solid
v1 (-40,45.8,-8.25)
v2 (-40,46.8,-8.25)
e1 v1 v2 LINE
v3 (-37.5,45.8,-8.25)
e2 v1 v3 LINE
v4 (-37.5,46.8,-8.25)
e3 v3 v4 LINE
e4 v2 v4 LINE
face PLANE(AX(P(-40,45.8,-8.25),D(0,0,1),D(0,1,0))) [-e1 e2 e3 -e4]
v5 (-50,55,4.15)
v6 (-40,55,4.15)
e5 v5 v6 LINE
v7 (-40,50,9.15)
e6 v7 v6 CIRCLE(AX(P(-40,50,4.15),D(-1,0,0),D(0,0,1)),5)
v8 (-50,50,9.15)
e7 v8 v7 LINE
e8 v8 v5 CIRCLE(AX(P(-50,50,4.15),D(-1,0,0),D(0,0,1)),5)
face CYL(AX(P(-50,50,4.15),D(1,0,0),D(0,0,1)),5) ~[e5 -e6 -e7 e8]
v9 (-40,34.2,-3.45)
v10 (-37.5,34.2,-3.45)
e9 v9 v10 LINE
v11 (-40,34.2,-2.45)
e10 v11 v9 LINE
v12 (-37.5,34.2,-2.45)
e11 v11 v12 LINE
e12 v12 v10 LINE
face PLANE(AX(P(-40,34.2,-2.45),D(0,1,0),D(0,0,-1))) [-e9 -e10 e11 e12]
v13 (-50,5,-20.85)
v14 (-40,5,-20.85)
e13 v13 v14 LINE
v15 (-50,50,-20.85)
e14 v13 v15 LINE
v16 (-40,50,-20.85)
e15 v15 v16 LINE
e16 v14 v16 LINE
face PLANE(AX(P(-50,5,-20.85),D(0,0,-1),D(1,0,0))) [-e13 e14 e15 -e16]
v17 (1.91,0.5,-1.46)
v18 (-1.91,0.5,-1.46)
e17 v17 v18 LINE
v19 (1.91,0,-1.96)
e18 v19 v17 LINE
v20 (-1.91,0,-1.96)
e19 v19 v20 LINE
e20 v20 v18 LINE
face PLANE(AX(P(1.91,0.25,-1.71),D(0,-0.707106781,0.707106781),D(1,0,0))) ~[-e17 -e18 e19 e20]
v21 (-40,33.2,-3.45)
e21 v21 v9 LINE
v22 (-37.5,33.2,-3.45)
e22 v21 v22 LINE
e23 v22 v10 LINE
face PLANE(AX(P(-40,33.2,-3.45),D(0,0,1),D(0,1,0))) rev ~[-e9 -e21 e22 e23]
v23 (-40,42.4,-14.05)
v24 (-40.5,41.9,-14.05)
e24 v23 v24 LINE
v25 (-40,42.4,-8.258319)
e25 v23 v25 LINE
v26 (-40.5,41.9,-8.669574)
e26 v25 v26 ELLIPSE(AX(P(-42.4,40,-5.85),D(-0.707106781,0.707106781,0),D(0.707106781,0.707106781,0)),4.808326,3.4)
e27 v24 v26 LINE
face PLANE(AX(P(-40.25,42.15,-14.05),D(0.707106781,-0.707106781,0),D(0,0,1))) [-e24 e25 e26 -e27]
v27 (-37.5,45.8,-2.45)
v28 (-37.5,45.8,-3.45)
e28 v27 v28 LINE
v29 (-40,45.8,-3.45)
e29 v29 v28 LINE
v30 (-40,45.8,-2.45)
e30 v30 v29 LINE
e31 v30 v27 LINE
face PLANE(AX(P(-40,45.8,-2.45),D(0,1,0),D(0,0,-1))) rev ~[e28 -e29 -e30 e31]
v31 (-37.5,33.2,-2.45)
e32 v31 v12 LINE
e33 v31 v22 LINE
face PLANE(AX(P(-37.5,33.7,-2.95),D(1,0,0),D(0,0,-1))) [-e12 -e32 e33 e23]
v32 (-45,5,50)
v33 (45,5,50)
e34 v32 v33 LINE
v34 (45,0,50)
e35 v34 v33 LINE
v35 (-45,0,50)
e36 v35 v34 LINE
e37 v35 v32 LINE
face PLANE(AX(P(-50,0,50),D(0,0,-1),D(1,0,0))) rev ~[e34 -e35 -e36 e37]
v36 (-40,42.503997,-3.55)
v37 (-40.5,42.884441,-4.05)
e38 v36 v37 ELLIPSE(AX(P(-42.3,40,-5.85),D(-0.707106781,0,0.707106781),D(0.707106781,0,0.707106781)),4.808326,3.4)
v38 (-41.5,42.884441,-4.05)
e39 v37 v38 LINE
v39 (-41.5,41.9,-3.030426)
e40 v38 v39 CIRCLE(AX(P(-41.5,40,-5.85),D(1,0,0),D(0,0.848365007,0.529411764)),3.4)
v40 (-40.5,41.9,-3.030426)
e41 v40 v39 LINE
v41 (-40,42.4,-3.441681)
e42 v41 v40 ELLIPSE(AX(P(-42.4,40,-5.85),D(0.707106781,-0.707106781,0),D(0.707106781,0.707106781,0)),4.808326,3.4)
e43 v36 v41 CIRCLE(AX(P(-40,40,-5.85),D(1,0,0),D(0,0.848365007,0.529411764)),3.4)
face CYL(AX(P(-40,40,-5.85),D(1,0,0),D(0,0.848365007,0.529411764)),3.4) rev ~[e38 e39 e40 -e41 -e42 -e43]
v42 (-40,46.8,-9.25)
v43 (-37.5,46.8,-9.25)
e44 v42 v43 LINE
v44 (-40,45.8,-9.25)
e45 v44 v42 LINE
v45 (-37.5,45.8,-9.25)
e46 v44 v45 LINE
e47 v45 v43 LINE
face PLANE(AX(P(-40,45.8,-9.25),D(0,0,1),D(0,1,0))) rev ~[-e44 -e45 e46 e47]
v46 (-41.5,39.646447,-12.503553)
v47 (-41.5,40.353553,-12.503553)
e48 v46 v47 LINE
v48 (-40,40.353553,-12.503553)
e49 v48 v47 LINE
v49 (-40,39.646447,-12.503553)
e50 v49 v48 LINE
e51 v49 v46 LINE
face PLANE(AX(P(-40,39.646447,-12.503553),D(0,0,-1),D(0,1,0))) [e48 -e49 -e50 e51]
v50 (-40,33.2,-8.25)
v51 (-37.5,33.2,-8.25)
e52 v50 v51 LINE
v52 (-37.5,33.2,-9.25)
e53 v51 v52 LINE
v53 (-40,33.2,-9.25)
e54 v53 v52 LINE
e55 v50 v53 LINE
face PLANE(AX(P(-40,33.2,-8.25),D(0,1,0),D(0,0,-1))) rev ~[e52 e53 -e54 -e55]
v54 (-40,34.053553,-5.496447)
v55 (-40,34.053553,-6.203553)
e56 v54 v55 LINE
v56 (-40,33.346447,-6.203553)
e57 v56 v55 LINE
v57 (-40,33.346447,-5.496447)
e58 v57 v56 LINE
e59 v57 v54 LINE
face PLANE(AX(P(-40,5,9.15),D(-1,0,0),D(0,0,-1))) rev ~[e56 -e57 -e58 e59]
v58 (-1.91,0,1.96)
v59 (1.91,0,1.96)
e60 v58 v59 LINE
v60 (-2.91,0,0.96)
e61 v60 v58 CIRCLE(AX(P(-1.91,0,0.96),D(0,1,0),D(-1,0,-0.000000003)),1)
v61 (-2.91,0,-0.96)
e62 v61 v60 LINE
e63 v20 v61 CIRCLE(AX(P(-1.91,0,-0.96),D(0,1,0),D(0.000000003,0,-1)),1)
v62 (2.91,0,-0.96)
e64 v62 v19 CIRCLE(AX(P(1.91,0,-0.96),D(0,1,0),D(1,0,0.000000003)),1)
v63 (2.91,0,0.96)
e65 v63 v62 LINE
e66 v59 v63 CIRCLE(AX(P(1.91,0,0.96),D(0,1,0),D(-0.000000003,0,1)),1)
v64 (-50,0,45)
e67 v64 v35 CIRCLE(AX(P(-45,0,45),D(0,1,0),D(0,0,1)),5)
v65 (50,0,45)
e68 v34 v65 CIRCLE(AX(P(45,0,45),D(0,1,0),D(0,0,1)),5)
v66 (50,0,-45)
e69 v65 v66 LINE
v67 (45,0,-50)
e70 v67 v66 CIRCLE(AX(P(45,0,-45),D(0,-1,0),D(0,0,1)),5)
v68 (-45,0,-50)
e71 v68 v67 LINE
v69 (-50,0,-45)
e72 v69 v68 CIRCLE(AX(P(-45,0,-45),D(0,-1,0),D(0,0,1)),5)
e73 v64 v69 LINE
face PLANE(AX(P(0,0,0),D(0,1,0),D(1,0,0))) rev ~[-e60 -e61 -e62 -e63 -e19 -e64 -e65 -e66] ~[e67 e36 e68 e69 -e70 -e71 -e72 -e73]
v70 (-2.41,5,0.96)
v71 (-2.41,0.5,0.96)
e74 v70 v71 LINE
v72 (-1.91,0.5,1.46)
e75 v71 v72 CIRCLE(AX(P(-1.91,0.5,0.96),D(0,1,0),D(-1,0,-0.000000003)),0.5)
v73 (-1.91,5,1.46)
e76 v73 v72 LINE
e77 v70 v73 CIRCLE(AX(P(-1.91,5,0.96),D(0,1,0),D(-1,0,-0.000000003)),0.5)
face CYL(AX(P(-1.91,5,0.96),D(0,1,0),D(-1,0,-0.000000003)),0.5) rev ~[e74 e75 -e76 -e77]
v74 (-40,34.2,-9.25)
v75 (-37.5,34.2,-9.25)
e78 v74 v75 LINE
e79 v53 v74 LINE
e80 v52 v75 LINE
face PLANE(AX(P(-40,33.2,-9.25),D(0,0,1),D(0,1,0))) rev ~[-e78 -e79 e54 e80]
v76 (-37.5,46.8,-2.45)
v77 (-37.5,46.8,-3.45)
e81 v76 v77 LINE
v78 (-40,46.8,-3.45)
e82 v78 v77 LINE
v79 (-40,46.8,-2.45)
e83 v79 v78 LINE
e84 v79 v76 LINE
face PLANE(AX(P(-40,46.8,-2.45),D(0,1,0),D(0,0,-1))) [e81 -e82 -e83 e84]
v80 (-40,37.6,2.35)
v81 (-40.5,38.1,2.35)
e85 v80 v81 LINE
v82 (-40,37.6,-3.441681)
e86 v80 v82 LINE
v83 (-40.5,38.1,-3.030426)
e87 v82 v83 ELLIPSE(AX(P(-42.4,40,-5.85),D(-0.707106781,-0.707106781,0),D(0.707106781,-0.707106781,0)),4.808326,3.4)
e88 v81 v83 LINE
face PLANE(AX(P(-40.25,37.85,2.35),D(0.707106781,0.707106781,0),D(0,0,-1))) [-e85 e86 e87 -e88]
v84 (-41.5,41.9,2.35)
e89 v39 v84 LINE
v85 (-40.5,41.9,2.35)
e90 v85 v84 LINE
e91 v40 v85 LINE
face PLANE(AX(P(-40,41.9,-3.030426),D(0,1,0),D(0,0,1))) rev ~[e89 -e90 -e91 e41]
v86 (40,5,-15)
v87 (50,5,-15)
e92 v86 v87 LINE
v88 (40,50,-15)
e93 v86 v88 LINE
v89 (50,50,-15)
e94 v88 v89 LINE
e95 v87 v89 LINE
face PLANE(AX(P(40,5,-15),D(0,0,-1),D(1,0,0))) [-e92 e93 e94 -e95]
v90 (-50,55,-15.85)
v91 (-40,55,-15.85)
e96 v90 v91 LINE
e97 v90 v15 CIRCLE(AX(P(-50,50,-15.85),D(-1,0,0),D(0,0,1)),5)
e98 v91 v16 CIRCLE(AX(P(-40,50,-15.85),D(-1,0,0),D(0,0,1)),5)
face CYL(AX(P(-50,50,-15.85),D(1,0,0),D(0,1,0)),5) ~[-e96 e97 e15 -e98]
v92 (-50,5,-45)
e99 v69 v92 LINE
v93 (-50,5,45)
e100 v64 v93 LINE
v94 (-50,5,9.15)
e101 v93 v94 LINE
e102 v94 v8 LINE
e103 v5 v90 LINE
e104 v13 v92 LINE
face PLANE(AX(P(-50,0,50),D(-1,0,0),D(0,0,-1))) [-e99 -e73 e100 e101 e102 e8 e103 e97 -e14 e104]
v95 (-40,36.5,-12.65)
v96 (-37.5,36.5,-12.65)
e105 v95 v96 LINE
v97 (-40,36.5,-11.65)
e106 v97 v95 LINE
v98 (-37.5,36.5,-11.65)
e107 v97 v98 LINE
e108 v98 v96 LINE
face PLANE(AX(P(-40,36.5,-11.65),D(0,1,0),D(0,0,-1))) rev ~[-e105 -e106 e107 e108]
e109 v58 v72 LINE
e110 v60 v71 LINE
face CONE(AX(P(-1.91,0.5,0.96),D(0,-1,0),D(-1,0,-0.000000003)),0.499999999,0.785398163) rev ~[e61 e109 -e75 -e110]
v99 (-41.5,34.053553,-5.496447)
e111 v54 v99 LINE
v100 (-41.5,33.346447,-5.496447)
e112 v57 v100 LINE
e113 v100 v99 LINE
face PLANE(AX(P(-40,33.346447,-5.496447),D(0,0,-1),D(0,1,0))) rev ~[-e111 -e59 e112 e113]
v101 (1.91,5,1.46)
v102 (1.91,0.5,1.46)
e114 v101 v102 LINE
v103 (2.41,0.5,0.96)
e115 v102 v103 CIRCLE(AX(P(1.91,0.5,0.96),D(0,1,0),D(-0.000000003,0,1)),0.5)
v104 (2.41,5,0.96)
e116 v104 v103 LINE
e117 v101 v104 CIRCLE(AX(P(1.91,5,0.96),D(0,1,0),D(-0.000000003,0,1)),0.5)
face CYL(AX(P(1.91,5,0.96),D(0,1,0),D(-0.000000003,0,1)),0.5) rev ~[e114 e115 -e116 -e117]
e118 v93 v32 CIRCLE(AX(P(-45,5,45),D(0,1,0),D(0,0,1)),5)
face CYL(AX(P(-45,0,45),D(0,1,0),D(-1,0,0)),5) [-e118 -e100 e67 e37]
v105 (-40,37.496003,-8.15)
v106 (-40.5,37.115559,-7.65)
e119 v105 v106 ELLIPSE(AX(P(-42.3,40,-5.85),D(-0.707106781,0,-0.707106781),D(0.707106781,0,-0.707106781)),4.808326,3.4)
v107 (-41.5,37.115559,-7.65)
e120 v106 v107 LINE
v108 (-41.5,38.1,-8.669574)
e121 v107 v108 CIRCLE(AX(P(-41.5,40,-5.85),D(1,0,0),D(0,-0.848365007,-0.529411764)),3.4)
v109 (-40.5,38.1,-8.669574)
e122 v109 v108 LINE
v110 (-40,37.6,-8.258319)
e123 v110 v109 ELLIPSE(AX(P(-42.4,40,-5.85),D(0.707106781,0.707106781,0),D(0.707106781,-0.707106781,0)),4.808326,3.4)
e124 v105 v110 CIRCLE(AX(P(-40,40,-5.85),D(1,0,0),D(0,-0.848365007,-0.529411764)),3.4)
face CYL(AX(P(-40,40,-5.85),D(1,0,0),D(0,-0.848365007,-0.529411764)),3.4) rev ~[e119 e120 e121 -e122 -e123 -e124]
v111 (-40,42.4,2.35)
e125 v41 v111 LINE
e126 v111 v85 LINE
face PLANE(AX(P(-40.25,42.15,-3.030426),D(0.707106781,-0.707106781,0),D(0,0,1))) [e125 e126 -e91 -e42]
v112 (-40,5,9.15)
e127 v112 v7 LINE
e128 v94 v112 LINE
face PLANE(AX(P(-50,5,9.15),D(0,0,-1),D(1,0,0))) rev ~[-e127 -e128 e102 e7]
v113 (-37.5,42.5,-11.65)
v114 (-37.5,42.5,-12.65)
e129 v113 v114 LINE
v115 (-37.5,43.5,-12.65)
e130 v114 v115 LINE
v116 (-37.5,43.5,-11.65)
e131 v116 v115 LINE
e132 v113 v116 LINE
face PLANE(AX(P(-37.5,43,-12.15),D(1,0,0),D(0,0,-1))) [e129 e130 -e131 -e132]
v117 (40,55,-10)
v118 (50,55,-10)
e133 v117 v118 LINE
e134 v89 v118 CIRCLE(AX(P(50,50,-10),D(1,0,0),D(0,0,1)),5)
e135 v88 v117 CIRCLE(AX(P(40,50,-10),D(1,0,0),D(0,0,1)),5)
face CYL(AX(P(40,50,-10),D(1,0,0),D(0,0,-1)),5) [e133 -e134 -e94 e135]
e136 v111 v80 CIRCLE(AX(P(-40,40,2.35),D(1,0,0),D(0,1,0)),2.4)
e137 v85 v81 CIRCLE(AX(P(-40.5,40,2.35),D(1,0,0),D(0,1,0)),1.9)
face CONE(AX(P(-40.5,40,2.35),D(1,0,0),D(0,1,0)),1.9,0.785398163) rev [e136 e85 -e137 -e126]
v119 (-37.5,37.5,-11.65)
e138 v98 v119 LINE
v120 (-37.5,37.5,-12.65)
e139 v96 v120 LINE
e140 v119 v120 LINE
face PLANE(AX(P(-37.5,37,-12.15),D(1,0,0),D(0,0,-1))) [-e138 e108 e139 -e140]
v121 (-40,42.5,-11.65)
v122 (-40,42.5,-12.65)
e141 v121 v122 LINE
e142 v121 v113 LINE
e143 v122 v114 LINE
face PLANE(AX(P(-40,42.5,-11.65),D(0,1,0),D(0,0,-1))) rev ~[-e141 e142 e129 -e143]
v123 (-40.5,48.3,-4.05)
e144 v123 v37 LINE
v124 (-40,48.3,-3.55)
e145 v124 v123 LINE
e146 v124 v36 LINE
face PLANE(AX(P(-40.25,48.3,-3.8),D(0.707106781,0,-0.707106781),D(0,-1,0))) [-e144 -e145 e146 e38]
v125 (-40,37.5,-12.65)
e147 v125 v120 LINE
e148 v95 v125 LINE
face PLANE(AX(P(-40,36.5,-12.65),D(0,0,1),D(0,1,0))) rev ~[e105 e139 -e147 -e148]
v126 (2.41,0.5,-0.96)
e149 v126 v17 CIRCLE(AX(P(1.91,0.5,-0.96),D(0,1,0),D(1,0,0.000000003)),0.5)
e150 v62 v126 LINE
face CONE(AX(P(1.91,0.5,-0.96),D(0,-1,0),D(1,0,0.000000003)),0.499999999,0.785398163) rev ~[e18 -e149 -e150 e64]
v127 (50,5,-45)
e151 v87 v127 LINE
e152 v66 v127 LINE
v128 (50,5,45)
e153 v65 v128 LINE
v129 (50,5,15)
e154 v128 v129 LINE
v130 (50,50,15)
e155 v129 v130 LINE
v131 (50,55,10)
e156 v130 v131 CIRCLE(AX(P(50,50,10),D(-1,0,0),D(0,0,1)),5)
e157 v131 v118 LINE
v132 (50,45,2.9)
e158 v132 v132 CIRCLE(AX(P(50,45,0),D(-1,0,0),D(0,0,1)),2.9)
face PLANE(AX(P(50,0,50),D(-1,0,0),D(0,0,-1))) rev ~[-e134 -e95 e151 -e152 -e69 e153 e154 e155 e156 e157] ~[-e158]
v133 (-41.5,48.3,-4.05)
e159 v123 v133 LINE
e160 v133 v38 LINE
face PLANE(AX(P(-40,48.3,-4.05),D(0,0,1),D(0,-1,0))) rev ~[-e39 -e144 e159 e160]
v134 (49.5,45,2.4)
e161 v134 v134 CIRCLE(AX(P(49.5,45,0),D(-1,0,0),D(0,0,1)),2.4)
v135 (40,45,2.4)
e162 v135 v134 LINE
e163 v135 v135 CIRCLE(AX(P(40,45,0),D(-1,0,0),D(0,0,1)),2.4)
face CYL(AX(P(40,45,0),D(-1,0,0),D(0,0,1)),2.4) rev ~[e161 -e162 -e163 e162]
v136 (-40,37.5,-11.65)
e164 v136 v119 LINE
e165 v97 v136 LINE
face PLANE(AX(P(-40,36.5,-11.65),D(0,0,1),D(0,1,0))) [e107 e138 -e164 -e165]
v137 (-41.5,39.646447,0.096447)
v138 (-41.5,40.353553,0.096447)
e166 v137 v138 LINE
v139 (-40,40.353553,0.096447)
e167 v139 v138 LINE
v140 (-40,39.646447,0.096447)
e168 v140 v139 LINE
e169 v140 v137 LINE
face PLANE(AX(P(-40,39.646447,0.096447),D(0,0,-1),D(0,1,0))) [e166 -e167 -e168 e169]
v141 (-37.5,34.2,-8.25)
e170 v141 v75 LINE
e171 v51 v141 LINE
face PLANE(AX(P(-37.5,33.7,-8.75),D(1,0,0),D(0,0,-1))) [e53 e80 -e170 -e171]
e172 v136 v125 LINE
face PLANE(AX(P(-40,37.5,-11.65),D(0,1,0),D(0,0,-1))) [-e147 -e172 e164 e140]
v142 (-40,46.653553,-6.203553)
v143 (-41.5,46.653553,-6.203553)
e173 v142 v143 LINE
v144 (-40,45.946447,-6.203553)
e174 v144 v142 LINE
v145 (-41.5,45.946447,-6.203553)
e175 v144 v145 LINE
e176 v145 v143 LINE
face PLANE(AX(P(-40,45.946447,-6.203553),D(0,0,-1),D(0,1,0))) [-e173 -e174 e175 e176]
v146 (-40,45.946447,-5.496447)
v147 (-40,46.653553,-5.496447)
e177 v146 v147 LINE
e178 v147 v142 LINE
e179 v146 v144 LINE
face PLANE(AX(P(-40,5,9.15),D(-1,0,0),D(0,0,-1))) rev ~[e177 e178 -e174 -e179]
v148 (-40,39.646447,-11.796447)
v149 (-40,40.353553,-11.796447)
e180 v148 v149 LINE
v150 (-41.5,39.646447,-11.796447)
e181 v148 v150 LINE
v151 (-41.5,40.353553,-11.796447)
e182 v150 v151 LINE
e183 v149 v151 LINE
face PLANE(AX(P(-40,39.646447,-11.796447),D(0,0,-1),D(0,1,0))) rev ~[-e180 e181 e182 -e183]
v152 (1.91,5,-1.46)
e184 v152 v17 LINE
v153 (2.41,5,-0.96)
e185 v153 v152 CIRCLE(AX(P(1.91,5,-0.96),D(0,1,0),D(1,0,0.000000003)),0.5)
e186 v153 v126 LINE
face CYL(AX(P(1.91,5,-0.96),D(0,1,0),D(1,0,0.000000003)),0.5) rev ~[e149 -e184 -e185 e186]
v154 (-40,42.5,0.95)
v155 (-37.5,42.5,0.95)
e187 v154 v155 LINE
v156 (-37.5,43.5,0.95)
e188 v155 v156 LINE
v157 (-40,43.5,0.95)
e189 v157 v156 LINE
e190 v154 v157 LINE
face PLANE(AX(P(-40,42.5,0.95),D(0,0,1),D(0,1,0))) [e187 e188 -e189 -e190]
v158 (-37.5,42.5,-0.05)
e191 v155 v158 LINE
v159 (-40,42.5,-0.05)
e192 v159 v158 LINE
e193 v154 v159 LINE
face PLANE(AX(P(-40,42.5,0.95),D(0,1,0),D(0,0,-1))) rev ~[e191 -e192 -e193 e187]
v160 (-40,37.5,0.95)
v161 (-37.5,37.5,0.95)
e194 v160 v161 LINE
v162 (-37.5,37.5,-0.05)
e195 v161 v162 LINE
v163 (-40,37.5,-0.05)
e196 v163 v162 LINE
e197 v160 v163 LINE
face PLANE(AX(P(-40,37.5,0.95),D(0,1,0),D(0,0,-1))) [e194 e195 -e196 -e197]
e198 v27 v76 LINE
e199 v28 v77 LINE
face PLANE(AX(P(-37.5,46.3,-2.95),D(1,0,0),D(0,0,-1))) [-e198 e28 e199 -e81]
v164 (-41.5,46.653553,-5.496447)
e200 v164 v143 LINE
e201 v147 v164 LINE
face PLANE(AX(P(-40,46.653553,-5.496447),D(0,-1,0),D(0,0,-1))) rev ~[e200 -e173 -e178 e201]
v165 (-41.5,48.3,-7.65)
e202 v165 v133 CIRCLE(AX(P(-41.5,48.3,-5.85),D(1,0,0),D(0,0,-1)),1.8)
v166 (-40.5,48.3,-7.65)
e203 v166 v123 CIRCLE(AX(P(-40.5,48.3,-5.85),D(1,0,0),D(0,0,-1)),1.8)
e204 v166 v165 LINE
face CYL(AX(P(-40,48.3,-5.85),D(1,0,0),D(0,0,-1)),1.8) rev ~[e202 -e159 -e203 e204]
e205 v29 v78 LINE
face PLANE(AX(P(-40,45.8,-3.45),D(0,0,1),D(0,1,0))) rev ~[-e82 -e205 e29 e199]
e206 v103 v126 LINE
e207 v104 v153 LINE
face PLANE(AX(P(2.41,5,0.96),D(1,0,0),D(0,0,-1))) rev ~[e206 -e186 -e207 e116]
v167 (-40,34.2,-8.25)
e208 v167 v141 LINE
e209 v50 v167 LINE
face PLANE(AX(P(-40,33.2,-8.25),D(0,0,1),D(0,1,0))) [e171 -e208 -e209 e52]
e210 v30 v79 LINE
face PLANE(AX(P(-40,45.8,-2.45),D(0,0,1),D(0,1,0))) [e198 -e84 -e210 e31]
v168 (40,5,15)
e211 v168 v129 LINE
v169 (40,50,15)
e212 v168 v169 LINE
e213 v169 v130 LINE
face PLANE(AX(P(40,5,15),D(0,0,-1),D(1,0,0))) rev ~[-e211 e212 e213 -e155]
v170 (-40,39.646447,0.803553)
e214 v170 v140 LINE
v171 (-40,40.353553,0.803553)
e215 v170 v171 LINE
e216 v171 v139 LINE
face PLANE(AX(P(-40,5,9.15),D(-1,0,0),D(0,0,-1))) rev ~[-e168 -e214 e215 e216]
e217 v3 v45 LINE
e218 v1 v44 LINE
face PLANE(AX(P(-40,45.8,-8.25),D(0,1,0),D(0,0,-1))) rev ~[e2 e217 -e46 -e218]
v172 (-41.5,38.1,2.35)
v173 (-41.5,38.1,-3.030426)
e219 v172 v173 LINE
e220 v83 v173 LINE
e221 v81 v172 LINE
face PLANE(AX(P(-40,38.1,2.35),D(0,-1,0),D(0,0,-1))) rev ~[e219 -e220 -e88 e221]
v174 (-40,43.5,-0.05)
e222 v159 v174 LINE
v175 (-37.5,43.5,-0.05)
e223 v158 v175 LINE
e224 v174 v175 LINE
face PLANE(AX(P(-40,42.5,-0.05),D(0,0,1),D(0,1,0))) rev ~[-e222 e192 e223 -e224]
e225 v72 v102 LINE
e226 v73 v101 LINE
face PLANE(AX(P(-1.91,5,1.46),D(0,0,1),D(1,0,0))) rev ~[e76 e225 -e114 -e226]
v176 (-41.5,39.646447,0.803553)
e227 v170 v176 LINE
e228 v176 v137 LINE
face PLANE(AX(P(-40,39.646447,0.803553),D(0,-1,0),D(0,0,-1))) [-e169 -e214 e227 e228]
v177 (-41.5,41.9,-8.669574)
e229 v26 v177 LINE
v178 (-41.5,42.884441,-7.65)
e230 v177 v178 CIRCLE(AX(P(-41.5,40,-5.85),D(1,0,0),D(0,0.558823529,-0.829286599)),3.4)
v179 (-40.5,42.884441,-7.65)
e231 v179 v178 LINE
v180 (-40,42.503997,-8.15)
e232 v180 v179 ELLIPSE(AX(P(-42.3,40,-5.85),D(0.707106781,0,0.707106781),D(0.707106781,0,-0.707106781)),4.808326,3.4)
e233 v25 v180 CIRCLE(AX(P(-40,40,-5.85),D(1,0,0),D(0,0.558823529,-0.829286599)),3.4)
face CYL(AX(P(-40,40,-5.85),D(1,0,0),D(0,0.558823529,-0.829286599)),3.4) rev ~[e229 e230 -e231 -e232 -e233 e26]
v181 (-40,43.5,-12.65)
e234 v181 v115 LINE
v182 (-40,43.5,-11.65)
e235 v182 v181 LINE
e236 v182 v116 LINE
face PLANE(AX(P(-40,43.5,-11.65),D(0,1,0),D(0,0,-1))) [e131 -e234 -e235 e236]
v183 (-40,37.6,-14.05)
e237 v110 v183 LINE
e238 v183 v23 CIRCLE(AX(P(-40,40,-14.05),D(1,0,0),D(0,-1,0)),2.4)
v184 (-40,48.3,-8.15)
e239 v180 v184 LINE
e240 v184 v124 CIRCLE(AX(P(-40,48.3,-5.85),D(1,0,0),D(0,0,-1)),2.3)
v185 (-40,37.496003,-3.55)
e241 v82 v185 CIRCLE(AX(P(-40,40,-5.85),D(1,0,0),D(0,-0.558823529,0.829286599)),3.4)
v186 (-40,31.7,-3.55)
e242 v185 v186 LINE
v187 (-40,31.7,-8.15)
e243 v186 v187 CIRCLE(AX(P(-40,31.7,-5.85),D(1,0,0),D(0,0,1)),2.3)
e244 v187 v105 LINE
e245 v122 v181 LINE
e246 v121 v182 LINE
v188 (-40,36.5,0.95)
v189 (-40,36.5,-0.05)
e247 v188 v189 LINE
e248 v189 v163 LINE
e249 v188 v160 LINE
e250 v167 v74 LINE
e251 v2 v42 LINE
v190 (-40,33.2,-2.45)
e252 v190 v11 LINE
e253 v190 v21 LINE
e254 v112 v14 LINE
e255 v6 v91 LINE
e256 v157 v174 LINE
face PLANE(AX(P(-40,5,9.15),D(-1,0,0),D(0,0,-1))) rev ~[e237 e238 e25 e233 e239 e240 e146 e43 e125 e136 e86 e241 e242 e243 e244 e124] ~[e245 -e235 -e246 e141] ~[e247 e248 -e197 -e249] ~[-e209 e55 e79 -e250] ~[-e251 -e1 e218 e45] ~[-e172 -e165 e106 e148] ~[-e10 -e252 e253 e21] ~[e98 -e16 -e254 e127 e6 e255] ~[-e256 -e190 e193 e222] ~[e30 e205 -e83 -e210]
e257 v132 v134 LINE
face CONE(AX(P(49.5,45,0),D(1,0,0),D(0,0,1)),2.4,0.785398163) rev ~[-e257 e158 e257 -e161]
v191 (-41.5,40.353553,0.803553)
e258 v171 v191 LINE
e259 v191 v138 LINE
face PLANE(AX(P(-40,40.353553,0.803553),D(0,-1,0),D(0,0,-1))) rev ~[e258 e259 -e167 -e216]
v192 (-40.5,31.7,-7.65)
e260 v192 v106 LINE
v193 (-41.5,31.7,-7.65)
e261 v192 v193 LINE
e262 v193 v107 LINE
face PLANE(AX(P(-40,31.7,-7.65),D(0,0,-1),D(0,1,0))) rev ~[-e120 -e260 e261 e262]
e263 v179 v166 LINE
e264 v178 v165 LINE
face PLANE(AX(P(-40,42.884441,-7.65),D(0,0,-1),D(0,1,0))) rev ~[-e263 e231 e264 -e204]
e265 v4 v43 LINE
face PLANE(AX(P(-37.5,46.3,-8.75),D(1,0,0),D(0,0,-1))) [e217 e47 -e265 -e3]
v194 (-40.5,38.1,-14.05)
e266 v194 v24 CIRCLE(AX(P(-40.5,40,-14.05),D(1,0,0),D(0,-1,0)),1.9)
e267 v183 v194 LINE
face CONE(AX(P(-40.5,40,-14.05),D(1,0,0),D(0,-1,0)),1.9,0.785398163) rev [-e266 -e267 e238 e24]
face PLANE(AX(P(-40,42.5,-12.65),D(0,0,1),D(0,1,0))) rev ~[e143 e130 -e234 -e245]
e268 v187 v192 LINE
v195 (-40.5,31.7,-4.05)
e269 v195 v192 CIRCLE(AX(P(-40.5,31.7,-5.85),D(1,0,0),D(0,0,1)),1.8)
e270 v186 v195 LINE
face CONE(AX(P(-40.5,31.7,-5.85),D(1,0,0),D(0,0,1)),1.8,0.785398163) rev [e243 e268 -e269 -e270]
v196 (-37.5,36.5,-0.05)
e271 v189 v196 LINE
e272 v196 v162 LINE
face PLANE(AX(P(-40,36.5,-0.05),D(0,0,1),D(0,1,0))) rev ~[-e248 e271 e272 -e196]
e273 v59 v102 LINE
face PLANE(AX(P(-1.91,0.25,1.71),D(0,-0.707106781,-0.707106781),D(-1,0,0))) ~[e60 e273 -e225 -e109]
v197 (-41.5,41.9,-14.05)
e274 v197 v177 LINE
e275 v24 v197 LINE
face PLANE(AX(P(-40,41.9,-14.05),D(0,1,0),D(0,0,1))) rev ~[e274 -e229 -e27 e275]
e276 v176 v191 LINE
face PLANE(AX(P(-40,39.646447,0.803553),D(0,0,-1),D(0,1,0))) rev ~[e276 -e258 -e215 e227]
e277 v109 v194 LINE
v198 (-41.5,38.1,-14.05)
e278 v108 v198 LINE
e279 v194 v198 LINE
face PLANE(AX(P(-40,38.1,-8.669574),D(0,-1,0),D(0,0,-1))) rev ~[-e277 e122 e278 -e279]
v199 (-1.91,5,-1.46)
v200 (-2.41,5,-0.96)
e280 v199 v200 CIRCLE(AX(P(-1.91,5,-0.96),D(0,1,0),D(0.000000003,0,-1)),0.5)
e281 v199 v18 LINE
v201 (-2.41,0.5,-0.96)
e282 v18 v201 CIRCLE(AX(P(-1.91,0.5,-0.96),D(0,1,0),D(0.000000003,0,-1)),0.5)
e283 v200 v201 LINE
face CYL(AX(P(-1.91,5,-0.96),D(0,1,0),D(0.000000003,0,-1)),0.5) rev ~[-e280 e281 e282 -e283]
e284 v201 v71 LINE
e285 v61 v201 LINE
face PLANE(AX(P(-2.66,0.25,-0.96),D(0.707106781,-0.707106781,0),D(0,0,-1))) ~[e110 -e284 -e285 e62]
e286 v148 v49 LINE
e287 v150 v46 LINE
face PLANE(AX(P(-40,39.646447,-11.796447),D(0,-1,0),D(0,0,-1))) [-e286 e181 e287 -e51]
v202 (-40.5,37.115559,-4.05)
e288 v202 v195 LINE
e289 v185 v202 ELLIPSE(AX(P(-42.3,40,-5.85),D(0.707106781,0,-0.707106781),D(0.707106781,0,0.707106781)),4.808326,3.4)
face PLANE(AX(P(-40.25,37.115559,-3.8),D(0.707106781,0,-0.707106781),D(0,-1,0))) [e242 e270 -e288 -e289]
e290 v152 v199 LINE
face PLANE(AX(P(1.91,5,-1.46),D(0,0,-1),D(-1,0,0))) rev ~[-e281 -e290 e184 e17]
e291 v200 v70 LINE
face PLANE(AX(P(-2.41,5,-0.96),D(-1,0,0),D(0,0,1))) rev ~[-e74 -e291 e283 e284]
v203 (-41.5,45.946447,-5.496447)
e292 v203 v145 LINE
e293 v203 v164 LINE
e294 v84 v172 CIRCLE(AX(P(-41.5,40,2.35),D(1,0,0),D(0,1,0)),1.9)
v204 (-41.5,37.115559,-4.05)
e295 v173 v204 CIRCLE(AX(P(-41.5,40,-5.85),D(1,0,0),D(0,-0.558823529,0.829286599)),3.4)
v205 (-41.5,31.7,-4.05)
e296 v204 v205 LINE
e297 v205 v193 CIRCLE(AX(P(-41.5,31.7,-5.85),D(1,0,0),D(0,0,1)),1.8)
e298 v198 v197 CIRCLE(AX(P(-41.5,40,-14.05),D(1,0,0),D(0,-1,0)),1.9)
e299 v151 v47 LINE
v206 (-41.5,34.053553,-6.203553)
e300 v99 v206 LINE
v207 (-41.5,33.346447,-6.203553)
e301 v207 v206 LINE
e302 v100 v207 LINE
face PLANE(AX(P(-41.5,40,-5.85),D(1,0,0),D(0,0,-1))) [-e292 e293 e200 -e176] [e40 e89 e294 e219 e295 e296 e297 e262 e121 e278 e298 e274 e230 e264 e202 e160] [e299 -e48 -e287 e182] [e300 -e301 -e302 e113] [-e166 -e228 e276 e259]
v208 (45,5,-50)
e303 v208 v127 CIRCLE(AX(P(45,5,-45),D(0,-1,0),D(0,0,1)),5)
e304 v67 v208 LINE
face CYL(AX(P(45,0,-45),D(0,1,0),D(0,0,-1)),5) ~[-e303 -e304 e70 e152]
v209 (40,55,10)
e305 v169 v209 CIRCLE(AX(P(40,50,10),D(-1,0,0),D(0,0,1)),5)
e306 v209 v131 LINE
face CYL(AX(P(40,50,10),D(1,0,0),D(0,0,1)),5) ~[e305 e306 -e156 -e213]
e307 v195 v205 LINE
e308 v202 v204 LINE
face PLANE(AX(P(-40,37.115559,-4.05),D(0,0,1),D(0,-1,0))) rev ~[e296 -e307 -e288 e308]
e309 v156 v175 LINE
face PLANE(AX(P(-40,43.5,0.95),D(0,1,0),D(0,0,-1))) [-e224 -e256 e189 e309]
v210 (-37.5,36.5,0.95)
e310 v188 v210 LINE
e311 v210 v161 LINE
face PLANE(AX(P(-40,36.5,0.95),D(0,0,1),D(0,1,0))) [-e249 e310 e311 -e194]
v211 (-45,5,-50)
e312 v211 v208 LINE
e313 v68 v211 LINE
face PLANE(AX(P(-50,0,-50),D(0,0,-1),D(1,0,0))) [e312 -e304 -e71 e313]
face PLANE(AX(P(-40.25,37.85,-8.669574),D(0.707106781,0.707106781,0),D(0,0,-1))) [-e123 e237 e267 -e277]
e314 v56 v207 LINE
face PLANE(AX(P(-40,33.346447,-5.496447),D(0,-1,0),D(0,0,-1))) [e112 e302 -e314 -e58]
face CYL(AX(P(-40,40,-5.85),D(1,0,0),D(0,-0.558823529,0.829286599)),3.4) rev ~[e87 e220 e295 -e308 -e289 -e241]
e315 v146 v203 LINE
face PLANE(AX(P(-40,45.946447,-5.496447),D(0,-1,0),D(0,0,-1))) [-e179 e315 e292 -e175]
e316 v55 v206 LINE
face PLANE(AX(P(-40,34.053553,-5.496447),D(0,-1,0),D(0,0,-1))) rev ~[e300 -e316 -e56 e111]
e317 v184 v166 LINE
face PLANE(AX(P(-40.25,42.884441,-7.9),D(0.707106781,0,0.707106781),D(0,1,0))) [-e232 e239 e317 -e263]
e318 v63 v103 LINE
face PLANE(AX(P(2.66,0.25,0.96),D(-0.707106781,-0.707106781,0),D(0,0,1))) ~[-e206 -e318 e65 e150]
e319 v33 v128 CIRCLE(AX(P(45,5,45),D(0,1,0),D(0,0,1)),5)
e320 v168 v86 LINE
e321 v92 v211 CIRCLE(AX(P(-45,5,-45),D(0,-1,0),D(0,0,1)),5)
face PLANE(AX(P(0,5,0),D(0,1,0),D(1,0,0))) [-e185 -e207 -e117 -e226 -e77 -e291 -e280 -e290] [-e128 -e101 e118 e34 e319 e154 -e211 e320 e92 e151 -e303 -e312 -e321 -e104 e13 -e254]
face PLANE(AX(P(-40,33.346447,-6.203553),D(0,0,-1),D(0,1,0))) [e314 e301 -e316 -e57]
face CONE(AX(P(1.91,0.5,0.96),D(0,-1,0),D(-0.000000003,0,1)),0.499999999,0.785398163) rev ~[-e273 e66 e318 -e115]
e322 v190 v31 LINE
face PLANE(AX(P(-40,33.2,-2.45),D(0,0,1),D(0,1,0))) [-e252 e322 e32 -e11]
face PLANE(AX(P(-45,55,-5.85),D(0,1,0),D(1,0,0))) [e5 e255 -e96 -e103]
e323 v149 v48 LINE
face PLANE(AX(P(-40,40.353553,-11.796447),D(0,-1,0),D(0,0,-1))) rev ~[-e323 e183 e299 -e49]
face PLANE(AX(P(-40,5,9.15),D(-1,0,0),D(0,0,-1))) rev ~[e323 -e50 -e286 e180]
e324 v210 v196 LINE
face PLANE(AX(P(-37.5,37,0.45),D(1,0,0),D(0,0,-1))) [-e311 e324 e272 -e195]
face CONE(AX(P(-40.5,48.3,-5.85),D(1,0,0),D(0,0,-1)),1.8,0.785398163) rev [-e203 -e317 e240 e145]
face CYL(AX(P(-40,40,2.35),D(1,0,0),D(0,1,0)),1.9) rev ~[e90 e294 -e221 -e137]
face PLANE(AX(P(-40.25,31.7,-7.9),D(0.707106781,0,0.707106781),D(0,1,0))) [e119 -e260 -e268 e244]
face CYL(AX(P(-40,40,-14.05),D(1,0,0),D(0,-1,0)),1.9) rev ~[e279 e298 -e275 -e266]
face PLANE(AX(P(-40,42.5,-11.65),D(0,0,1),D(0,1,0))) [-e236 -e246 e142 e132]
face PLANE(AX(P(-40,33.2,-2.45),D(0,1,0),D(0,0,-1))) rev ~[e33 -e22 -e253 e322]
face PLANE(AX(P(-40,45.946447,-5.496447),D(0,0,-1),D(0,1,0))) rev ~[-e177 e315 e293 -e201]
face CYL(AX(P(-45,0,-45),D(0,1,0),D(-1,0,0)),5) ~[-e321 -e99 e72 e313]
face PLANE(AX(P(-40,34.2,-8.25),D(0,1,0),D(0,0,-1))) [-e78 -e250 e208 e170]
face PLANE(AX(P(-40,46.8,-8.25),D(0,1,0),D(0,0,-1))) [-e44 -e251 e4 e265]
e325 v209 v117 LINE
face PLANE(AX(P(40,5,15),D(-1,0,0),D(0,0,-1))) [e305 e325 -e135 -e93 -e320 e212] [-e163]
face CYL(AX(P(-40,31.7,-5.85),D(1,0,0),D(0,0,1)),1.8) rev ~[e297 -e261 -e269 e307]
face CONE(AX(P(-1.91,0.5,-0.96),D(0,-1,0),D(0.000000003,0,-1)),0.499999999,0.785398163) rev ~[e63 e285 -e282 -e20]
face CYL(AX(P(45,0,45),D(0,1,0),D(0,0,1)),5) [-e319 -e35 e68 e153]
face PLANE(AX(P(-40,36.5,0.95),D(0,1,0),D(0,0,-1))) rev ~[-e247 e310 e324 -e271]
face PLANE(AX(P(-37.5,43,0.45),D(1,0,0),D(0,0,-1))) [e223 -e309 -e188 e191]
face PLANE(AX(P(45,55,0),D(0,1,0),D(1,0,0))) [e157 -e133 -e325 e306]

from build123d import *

# Parameters (mm, degrees)
SKETCH1_W           = 100
SKETCH1_H           = 100
BOSS_EXTRUDE1_DEPTH = 5
SKETCH2_W           = 10
SKETCH2_H           = 30
BOSS_EXTRUDE2_DEPTH = 50
CUT_EXTRUDE2_DEPTH  = 6
FILLET1_R           = 5
FILLET2_R           = 5
SKETCH7_W           = 0.707106782
SKETCH7_H           = 0.707106782
CUT_EXTRUDE3_DEPTH  = 1.5
SKETCH10_R          = 2.4
CUT_EXTRUDE4_DEPTH  = 11
CHAMFER1_SIZE       = 0.5
CHAMFER2_SIZE       = 0.5
CHAMFER3_SIZE       = 0.5
SKETCH11_W          = 1
SKETCH11_H          = 1
BOSS_EXTRUDE3_DEPTH = 2.5


with BuildPart() as part:
    # Sketch1 → Boss-Extrude1 (new body)
    with BuildSketch(Plane(origin=(0, 0, 0), x_dir=(1, 0, 0), z_dir=(0, 1, 0))):
        Rectangle(SKETCH1_W, SKETCH1_H)
    extrude(amount=BOSS_EXTRUDE1_DEPTH)

    # Sketch2 → Boss-Extrude2 (add)
    with BuildSketch(Plane(origin=(0, 5, 0), x_dir=(1, 0, 0), z_dir=(0, 1, 0))):
        with Locations((-45, 5.85)):
            Rectangle(SKETCH2_W, SKETCH2_H)
        with Locations((45, 0)):
            Rectangle(SKETCH2_W, SKETCH2_H)
    extrude(amount=BOSS_EXTRUDE2_DEPTH)

    # Sketch4 → Cut-Extrude2 (cut, through all)
    with BuildSketch(Plane(origin=(0, 5, 0), x_dir=(1, 0, 0), z_dir=(0, 1, 0))):
        with BuildLine():
            Line((-1.91, -1.46), (1.91, -1.46))
            ThreePointArc((1.91, -1.46), (2.263553391, -1.313553391), (2.41, -0.96))
            Line((2.41, -0.96), (2.41, 0.96))
            ThreePointArc((2.41, 0.96), (2.263553391, 1.313553391), (1.91, 1.46))
            Line((1.91, 1.46), (-1.91, 1.46))
            ThreePointArc((-1.91, 1.46), (-2.263553391, 1.313553391), (-2.41, 0.96))
            Line((-2.41, 0.96), (-2.41, -0.96))
            ThreePointArc((-2.41, -0.96), (-2.263553391, -1.313553391), (-1.91, -1.46))
        make_face()
    extrude(amount=-CUT_EXTRUDE2_DEPTH, mode=Mode.SUBTRACT)

    # Fillet1
    fillet1_edges = [part.edges().sort_by_distance(p)[0] for p in [
        (50, 2.5, 50),
        (-50, 2.5, 50),
        (-50, 2.5, -50),
        (50, 2.5, -50),
    ]]
    fillet(fillet1_edges, radius=FILLET1_R)

    # Fillet2
    fillet2_edges = [part.edges().sort_by_distance(p)[0] for p in [
        (-45, 55, 9.15),
        (-45, 55, -20.85),
        (45, 55, -15),
        (45, 55, 15),
    ]]
    fillet(fillet2_edges, radius=FILLET2_R)

    # Sketch7 → Cut-Extrude3 (cut)
    with BuildSketch(Plane(origin=(-40, 0, 0), x_dir=(0, 0, -1), z_dir=(1, 0, 0))):
        with BuildLine():
            Line((7.65, 31.7), (7.65, 37.11555898))
            ThreePointArc((7.65, 37.11555898), (8.211651546, 37.554064192), (8.669574436, 38.1))
            Line((8.669574436, 38.1), (14.05, 38.1))
            ThreePointArc((14.05, 38.1), (15.95, 40), (14.05, 41.9))
            Line((14.05, 41.9), (8.669574436, 41.9))
            ThreePointArc((8.669574436, 41.9), (8.211651546, 42.445935808), (7.65, 42.88444102))
            Line((7.65, 42.88444102), (7.65, 48.3))
            ThreePointArc((7.65, 48.3), (5.85, 50.1), (4.05, 48.3))
            Line((4.05, 48.3), (4.05, 42.88444102))
            ThreePointArc((4.05, 42.88444102), (3.488348454, 42.445935808), (3.030425564, 41.9))
            Line((3.030425564, 41.9), (-2.35, 41.9))
            ThreePointArc((-2.35, 41.9), (-4.25, 40), (-2.35, 38.1))
            Line((-2.35, 38.1), (3.030425564, 38.1))
            ThreePointArc((3.030425564, 38.1), (3.488348454, 37.554064192), (4.05, 37.11555898))
            Line((4.05, 37.11555898), (4.05, 31.7))
            ThreePointArc((4.05, 31.7), (5.85, 29.9), (7.65, 31.7))
        make_face()
        with Locations((-0.45, 40)):
            Rectangle(SKETCH7_W, SKETCH7_H, mode=Mode.SUBTRACT)
        with Locations((5.85, 33.7)):
            Rectangle(SKETCH7_W, SKETCH7_H, mode=Mode.SUBTRACT)
        with Locations((12.15, 40)):
            Rectangle(SKETCH7_W, SKETCH7_H, mode=Mode.SUBTRACT)
        with Locations((5.85, 46.3)):
            Rectangle(SKETCH7_W, SKETCH7_H, mode=Mode.SUBTRACT)
    extrude(amount=-CUT_EXTRUDE3_DEPTH, mode=Mode.SUBTRACT)

    # Sketch10 → Cut-Extrude4 (cut, through all)
    with BuildSketch(Plane.ZY.offset(-40)):
        with Locations((0, 45)):
            Circle(SKETCH10_R)
    extrude(amount=-CUT_EXTRUDE4_DEPTH, mode=Mode.SUBTRACT)

    # Chamfer1
    chamfer1_edges = [part.edges().sort_by_distance(p)[0] for p in [
        (2.263553391, 0, 1.313553391),
        (0, 0, 1.46),
        (-2.263553391, 0, 1.313553391),
        (-2.41, 0, 0),
        (-2.263553391, 0, -1.313553391),
        (0, 0, -1.46),
        (2.263553391, 0, -1.313553391),
        (2.41, 0, 0),
    ]]
    chamfer(chamfer1_edges, length=CHAMFER1_SIZE)

    # Chamfer2
    chamfer2_edges = [part.edges().sort_by_distance(p)[0] for p in [
        (-40, 45.59222051, -4.05),
        (-40, 41.9, -11.359787218),
        (-40, 34.40777949, -4.05),
        (-40, 41.9, -0.340212782),
        (-40, 40, 4.25),
        (-40, 38.1, -0.340212782),
        (-40, 29.9, -5.85),
        (-40, 34.40777949, -7.65),
        (-40, 38.1, -11.359787218),
        (-40, 40, -15.95),
        (-40, 45.59222051, -7.65),
        (-40, 50.1, -5.85),
    ]]
    chamfer(chamfer2_edges, length=CHAMFER2_SIZE)

    # Chamfer3
    chamfer3_edges = [part.edges().sort_by_distance(p)[0] for p in [
        (50, 45, -2.4),
    ]]
    chamfer(chamfer3_edges, length=CHAMFER3_SIZE)

    # Sketch11 → Boss-Extrude3 (add)
    with BuildSketch(Plane(origin=(-40, 0, 0), x_dir=(0, 0, -1), z_dir=(1, 0, 0))):
        with Locations((2.95, 46.3)):
            Rectangle(SKETCH11_W, SKETCH11_H)
        with Locations((8.75, 46.3)):
            Rectangle(SKETCH11_W, SKETCH11_H)
        with Locations((12.15, 43)):
            Rectangle(SKETCH11_W, SKETCH11_H)
        with Locations((12.15, 37)):
            Rectangle(SKETCH11_W, SKETCH11_H)
        with Locations((8.75, 33.7)):
            Rectangle(SKETCH11_W, SKETCH11_H)
        with Locations((2.95, 33.7)):
            Rectangle(SKETCH11_W, SKETCH11_H)
        with Locations((-0.45, 37)):
            Rectangle(SKETCH11_W, SKETCH11_H)
        with Locations((-0.45, 43)):
            Rectangle(SKETCH11_W, SKETCH11_H)
    extrude(amount=BOSS_EXTRUDE3_DEPTH)


solid = part.part
